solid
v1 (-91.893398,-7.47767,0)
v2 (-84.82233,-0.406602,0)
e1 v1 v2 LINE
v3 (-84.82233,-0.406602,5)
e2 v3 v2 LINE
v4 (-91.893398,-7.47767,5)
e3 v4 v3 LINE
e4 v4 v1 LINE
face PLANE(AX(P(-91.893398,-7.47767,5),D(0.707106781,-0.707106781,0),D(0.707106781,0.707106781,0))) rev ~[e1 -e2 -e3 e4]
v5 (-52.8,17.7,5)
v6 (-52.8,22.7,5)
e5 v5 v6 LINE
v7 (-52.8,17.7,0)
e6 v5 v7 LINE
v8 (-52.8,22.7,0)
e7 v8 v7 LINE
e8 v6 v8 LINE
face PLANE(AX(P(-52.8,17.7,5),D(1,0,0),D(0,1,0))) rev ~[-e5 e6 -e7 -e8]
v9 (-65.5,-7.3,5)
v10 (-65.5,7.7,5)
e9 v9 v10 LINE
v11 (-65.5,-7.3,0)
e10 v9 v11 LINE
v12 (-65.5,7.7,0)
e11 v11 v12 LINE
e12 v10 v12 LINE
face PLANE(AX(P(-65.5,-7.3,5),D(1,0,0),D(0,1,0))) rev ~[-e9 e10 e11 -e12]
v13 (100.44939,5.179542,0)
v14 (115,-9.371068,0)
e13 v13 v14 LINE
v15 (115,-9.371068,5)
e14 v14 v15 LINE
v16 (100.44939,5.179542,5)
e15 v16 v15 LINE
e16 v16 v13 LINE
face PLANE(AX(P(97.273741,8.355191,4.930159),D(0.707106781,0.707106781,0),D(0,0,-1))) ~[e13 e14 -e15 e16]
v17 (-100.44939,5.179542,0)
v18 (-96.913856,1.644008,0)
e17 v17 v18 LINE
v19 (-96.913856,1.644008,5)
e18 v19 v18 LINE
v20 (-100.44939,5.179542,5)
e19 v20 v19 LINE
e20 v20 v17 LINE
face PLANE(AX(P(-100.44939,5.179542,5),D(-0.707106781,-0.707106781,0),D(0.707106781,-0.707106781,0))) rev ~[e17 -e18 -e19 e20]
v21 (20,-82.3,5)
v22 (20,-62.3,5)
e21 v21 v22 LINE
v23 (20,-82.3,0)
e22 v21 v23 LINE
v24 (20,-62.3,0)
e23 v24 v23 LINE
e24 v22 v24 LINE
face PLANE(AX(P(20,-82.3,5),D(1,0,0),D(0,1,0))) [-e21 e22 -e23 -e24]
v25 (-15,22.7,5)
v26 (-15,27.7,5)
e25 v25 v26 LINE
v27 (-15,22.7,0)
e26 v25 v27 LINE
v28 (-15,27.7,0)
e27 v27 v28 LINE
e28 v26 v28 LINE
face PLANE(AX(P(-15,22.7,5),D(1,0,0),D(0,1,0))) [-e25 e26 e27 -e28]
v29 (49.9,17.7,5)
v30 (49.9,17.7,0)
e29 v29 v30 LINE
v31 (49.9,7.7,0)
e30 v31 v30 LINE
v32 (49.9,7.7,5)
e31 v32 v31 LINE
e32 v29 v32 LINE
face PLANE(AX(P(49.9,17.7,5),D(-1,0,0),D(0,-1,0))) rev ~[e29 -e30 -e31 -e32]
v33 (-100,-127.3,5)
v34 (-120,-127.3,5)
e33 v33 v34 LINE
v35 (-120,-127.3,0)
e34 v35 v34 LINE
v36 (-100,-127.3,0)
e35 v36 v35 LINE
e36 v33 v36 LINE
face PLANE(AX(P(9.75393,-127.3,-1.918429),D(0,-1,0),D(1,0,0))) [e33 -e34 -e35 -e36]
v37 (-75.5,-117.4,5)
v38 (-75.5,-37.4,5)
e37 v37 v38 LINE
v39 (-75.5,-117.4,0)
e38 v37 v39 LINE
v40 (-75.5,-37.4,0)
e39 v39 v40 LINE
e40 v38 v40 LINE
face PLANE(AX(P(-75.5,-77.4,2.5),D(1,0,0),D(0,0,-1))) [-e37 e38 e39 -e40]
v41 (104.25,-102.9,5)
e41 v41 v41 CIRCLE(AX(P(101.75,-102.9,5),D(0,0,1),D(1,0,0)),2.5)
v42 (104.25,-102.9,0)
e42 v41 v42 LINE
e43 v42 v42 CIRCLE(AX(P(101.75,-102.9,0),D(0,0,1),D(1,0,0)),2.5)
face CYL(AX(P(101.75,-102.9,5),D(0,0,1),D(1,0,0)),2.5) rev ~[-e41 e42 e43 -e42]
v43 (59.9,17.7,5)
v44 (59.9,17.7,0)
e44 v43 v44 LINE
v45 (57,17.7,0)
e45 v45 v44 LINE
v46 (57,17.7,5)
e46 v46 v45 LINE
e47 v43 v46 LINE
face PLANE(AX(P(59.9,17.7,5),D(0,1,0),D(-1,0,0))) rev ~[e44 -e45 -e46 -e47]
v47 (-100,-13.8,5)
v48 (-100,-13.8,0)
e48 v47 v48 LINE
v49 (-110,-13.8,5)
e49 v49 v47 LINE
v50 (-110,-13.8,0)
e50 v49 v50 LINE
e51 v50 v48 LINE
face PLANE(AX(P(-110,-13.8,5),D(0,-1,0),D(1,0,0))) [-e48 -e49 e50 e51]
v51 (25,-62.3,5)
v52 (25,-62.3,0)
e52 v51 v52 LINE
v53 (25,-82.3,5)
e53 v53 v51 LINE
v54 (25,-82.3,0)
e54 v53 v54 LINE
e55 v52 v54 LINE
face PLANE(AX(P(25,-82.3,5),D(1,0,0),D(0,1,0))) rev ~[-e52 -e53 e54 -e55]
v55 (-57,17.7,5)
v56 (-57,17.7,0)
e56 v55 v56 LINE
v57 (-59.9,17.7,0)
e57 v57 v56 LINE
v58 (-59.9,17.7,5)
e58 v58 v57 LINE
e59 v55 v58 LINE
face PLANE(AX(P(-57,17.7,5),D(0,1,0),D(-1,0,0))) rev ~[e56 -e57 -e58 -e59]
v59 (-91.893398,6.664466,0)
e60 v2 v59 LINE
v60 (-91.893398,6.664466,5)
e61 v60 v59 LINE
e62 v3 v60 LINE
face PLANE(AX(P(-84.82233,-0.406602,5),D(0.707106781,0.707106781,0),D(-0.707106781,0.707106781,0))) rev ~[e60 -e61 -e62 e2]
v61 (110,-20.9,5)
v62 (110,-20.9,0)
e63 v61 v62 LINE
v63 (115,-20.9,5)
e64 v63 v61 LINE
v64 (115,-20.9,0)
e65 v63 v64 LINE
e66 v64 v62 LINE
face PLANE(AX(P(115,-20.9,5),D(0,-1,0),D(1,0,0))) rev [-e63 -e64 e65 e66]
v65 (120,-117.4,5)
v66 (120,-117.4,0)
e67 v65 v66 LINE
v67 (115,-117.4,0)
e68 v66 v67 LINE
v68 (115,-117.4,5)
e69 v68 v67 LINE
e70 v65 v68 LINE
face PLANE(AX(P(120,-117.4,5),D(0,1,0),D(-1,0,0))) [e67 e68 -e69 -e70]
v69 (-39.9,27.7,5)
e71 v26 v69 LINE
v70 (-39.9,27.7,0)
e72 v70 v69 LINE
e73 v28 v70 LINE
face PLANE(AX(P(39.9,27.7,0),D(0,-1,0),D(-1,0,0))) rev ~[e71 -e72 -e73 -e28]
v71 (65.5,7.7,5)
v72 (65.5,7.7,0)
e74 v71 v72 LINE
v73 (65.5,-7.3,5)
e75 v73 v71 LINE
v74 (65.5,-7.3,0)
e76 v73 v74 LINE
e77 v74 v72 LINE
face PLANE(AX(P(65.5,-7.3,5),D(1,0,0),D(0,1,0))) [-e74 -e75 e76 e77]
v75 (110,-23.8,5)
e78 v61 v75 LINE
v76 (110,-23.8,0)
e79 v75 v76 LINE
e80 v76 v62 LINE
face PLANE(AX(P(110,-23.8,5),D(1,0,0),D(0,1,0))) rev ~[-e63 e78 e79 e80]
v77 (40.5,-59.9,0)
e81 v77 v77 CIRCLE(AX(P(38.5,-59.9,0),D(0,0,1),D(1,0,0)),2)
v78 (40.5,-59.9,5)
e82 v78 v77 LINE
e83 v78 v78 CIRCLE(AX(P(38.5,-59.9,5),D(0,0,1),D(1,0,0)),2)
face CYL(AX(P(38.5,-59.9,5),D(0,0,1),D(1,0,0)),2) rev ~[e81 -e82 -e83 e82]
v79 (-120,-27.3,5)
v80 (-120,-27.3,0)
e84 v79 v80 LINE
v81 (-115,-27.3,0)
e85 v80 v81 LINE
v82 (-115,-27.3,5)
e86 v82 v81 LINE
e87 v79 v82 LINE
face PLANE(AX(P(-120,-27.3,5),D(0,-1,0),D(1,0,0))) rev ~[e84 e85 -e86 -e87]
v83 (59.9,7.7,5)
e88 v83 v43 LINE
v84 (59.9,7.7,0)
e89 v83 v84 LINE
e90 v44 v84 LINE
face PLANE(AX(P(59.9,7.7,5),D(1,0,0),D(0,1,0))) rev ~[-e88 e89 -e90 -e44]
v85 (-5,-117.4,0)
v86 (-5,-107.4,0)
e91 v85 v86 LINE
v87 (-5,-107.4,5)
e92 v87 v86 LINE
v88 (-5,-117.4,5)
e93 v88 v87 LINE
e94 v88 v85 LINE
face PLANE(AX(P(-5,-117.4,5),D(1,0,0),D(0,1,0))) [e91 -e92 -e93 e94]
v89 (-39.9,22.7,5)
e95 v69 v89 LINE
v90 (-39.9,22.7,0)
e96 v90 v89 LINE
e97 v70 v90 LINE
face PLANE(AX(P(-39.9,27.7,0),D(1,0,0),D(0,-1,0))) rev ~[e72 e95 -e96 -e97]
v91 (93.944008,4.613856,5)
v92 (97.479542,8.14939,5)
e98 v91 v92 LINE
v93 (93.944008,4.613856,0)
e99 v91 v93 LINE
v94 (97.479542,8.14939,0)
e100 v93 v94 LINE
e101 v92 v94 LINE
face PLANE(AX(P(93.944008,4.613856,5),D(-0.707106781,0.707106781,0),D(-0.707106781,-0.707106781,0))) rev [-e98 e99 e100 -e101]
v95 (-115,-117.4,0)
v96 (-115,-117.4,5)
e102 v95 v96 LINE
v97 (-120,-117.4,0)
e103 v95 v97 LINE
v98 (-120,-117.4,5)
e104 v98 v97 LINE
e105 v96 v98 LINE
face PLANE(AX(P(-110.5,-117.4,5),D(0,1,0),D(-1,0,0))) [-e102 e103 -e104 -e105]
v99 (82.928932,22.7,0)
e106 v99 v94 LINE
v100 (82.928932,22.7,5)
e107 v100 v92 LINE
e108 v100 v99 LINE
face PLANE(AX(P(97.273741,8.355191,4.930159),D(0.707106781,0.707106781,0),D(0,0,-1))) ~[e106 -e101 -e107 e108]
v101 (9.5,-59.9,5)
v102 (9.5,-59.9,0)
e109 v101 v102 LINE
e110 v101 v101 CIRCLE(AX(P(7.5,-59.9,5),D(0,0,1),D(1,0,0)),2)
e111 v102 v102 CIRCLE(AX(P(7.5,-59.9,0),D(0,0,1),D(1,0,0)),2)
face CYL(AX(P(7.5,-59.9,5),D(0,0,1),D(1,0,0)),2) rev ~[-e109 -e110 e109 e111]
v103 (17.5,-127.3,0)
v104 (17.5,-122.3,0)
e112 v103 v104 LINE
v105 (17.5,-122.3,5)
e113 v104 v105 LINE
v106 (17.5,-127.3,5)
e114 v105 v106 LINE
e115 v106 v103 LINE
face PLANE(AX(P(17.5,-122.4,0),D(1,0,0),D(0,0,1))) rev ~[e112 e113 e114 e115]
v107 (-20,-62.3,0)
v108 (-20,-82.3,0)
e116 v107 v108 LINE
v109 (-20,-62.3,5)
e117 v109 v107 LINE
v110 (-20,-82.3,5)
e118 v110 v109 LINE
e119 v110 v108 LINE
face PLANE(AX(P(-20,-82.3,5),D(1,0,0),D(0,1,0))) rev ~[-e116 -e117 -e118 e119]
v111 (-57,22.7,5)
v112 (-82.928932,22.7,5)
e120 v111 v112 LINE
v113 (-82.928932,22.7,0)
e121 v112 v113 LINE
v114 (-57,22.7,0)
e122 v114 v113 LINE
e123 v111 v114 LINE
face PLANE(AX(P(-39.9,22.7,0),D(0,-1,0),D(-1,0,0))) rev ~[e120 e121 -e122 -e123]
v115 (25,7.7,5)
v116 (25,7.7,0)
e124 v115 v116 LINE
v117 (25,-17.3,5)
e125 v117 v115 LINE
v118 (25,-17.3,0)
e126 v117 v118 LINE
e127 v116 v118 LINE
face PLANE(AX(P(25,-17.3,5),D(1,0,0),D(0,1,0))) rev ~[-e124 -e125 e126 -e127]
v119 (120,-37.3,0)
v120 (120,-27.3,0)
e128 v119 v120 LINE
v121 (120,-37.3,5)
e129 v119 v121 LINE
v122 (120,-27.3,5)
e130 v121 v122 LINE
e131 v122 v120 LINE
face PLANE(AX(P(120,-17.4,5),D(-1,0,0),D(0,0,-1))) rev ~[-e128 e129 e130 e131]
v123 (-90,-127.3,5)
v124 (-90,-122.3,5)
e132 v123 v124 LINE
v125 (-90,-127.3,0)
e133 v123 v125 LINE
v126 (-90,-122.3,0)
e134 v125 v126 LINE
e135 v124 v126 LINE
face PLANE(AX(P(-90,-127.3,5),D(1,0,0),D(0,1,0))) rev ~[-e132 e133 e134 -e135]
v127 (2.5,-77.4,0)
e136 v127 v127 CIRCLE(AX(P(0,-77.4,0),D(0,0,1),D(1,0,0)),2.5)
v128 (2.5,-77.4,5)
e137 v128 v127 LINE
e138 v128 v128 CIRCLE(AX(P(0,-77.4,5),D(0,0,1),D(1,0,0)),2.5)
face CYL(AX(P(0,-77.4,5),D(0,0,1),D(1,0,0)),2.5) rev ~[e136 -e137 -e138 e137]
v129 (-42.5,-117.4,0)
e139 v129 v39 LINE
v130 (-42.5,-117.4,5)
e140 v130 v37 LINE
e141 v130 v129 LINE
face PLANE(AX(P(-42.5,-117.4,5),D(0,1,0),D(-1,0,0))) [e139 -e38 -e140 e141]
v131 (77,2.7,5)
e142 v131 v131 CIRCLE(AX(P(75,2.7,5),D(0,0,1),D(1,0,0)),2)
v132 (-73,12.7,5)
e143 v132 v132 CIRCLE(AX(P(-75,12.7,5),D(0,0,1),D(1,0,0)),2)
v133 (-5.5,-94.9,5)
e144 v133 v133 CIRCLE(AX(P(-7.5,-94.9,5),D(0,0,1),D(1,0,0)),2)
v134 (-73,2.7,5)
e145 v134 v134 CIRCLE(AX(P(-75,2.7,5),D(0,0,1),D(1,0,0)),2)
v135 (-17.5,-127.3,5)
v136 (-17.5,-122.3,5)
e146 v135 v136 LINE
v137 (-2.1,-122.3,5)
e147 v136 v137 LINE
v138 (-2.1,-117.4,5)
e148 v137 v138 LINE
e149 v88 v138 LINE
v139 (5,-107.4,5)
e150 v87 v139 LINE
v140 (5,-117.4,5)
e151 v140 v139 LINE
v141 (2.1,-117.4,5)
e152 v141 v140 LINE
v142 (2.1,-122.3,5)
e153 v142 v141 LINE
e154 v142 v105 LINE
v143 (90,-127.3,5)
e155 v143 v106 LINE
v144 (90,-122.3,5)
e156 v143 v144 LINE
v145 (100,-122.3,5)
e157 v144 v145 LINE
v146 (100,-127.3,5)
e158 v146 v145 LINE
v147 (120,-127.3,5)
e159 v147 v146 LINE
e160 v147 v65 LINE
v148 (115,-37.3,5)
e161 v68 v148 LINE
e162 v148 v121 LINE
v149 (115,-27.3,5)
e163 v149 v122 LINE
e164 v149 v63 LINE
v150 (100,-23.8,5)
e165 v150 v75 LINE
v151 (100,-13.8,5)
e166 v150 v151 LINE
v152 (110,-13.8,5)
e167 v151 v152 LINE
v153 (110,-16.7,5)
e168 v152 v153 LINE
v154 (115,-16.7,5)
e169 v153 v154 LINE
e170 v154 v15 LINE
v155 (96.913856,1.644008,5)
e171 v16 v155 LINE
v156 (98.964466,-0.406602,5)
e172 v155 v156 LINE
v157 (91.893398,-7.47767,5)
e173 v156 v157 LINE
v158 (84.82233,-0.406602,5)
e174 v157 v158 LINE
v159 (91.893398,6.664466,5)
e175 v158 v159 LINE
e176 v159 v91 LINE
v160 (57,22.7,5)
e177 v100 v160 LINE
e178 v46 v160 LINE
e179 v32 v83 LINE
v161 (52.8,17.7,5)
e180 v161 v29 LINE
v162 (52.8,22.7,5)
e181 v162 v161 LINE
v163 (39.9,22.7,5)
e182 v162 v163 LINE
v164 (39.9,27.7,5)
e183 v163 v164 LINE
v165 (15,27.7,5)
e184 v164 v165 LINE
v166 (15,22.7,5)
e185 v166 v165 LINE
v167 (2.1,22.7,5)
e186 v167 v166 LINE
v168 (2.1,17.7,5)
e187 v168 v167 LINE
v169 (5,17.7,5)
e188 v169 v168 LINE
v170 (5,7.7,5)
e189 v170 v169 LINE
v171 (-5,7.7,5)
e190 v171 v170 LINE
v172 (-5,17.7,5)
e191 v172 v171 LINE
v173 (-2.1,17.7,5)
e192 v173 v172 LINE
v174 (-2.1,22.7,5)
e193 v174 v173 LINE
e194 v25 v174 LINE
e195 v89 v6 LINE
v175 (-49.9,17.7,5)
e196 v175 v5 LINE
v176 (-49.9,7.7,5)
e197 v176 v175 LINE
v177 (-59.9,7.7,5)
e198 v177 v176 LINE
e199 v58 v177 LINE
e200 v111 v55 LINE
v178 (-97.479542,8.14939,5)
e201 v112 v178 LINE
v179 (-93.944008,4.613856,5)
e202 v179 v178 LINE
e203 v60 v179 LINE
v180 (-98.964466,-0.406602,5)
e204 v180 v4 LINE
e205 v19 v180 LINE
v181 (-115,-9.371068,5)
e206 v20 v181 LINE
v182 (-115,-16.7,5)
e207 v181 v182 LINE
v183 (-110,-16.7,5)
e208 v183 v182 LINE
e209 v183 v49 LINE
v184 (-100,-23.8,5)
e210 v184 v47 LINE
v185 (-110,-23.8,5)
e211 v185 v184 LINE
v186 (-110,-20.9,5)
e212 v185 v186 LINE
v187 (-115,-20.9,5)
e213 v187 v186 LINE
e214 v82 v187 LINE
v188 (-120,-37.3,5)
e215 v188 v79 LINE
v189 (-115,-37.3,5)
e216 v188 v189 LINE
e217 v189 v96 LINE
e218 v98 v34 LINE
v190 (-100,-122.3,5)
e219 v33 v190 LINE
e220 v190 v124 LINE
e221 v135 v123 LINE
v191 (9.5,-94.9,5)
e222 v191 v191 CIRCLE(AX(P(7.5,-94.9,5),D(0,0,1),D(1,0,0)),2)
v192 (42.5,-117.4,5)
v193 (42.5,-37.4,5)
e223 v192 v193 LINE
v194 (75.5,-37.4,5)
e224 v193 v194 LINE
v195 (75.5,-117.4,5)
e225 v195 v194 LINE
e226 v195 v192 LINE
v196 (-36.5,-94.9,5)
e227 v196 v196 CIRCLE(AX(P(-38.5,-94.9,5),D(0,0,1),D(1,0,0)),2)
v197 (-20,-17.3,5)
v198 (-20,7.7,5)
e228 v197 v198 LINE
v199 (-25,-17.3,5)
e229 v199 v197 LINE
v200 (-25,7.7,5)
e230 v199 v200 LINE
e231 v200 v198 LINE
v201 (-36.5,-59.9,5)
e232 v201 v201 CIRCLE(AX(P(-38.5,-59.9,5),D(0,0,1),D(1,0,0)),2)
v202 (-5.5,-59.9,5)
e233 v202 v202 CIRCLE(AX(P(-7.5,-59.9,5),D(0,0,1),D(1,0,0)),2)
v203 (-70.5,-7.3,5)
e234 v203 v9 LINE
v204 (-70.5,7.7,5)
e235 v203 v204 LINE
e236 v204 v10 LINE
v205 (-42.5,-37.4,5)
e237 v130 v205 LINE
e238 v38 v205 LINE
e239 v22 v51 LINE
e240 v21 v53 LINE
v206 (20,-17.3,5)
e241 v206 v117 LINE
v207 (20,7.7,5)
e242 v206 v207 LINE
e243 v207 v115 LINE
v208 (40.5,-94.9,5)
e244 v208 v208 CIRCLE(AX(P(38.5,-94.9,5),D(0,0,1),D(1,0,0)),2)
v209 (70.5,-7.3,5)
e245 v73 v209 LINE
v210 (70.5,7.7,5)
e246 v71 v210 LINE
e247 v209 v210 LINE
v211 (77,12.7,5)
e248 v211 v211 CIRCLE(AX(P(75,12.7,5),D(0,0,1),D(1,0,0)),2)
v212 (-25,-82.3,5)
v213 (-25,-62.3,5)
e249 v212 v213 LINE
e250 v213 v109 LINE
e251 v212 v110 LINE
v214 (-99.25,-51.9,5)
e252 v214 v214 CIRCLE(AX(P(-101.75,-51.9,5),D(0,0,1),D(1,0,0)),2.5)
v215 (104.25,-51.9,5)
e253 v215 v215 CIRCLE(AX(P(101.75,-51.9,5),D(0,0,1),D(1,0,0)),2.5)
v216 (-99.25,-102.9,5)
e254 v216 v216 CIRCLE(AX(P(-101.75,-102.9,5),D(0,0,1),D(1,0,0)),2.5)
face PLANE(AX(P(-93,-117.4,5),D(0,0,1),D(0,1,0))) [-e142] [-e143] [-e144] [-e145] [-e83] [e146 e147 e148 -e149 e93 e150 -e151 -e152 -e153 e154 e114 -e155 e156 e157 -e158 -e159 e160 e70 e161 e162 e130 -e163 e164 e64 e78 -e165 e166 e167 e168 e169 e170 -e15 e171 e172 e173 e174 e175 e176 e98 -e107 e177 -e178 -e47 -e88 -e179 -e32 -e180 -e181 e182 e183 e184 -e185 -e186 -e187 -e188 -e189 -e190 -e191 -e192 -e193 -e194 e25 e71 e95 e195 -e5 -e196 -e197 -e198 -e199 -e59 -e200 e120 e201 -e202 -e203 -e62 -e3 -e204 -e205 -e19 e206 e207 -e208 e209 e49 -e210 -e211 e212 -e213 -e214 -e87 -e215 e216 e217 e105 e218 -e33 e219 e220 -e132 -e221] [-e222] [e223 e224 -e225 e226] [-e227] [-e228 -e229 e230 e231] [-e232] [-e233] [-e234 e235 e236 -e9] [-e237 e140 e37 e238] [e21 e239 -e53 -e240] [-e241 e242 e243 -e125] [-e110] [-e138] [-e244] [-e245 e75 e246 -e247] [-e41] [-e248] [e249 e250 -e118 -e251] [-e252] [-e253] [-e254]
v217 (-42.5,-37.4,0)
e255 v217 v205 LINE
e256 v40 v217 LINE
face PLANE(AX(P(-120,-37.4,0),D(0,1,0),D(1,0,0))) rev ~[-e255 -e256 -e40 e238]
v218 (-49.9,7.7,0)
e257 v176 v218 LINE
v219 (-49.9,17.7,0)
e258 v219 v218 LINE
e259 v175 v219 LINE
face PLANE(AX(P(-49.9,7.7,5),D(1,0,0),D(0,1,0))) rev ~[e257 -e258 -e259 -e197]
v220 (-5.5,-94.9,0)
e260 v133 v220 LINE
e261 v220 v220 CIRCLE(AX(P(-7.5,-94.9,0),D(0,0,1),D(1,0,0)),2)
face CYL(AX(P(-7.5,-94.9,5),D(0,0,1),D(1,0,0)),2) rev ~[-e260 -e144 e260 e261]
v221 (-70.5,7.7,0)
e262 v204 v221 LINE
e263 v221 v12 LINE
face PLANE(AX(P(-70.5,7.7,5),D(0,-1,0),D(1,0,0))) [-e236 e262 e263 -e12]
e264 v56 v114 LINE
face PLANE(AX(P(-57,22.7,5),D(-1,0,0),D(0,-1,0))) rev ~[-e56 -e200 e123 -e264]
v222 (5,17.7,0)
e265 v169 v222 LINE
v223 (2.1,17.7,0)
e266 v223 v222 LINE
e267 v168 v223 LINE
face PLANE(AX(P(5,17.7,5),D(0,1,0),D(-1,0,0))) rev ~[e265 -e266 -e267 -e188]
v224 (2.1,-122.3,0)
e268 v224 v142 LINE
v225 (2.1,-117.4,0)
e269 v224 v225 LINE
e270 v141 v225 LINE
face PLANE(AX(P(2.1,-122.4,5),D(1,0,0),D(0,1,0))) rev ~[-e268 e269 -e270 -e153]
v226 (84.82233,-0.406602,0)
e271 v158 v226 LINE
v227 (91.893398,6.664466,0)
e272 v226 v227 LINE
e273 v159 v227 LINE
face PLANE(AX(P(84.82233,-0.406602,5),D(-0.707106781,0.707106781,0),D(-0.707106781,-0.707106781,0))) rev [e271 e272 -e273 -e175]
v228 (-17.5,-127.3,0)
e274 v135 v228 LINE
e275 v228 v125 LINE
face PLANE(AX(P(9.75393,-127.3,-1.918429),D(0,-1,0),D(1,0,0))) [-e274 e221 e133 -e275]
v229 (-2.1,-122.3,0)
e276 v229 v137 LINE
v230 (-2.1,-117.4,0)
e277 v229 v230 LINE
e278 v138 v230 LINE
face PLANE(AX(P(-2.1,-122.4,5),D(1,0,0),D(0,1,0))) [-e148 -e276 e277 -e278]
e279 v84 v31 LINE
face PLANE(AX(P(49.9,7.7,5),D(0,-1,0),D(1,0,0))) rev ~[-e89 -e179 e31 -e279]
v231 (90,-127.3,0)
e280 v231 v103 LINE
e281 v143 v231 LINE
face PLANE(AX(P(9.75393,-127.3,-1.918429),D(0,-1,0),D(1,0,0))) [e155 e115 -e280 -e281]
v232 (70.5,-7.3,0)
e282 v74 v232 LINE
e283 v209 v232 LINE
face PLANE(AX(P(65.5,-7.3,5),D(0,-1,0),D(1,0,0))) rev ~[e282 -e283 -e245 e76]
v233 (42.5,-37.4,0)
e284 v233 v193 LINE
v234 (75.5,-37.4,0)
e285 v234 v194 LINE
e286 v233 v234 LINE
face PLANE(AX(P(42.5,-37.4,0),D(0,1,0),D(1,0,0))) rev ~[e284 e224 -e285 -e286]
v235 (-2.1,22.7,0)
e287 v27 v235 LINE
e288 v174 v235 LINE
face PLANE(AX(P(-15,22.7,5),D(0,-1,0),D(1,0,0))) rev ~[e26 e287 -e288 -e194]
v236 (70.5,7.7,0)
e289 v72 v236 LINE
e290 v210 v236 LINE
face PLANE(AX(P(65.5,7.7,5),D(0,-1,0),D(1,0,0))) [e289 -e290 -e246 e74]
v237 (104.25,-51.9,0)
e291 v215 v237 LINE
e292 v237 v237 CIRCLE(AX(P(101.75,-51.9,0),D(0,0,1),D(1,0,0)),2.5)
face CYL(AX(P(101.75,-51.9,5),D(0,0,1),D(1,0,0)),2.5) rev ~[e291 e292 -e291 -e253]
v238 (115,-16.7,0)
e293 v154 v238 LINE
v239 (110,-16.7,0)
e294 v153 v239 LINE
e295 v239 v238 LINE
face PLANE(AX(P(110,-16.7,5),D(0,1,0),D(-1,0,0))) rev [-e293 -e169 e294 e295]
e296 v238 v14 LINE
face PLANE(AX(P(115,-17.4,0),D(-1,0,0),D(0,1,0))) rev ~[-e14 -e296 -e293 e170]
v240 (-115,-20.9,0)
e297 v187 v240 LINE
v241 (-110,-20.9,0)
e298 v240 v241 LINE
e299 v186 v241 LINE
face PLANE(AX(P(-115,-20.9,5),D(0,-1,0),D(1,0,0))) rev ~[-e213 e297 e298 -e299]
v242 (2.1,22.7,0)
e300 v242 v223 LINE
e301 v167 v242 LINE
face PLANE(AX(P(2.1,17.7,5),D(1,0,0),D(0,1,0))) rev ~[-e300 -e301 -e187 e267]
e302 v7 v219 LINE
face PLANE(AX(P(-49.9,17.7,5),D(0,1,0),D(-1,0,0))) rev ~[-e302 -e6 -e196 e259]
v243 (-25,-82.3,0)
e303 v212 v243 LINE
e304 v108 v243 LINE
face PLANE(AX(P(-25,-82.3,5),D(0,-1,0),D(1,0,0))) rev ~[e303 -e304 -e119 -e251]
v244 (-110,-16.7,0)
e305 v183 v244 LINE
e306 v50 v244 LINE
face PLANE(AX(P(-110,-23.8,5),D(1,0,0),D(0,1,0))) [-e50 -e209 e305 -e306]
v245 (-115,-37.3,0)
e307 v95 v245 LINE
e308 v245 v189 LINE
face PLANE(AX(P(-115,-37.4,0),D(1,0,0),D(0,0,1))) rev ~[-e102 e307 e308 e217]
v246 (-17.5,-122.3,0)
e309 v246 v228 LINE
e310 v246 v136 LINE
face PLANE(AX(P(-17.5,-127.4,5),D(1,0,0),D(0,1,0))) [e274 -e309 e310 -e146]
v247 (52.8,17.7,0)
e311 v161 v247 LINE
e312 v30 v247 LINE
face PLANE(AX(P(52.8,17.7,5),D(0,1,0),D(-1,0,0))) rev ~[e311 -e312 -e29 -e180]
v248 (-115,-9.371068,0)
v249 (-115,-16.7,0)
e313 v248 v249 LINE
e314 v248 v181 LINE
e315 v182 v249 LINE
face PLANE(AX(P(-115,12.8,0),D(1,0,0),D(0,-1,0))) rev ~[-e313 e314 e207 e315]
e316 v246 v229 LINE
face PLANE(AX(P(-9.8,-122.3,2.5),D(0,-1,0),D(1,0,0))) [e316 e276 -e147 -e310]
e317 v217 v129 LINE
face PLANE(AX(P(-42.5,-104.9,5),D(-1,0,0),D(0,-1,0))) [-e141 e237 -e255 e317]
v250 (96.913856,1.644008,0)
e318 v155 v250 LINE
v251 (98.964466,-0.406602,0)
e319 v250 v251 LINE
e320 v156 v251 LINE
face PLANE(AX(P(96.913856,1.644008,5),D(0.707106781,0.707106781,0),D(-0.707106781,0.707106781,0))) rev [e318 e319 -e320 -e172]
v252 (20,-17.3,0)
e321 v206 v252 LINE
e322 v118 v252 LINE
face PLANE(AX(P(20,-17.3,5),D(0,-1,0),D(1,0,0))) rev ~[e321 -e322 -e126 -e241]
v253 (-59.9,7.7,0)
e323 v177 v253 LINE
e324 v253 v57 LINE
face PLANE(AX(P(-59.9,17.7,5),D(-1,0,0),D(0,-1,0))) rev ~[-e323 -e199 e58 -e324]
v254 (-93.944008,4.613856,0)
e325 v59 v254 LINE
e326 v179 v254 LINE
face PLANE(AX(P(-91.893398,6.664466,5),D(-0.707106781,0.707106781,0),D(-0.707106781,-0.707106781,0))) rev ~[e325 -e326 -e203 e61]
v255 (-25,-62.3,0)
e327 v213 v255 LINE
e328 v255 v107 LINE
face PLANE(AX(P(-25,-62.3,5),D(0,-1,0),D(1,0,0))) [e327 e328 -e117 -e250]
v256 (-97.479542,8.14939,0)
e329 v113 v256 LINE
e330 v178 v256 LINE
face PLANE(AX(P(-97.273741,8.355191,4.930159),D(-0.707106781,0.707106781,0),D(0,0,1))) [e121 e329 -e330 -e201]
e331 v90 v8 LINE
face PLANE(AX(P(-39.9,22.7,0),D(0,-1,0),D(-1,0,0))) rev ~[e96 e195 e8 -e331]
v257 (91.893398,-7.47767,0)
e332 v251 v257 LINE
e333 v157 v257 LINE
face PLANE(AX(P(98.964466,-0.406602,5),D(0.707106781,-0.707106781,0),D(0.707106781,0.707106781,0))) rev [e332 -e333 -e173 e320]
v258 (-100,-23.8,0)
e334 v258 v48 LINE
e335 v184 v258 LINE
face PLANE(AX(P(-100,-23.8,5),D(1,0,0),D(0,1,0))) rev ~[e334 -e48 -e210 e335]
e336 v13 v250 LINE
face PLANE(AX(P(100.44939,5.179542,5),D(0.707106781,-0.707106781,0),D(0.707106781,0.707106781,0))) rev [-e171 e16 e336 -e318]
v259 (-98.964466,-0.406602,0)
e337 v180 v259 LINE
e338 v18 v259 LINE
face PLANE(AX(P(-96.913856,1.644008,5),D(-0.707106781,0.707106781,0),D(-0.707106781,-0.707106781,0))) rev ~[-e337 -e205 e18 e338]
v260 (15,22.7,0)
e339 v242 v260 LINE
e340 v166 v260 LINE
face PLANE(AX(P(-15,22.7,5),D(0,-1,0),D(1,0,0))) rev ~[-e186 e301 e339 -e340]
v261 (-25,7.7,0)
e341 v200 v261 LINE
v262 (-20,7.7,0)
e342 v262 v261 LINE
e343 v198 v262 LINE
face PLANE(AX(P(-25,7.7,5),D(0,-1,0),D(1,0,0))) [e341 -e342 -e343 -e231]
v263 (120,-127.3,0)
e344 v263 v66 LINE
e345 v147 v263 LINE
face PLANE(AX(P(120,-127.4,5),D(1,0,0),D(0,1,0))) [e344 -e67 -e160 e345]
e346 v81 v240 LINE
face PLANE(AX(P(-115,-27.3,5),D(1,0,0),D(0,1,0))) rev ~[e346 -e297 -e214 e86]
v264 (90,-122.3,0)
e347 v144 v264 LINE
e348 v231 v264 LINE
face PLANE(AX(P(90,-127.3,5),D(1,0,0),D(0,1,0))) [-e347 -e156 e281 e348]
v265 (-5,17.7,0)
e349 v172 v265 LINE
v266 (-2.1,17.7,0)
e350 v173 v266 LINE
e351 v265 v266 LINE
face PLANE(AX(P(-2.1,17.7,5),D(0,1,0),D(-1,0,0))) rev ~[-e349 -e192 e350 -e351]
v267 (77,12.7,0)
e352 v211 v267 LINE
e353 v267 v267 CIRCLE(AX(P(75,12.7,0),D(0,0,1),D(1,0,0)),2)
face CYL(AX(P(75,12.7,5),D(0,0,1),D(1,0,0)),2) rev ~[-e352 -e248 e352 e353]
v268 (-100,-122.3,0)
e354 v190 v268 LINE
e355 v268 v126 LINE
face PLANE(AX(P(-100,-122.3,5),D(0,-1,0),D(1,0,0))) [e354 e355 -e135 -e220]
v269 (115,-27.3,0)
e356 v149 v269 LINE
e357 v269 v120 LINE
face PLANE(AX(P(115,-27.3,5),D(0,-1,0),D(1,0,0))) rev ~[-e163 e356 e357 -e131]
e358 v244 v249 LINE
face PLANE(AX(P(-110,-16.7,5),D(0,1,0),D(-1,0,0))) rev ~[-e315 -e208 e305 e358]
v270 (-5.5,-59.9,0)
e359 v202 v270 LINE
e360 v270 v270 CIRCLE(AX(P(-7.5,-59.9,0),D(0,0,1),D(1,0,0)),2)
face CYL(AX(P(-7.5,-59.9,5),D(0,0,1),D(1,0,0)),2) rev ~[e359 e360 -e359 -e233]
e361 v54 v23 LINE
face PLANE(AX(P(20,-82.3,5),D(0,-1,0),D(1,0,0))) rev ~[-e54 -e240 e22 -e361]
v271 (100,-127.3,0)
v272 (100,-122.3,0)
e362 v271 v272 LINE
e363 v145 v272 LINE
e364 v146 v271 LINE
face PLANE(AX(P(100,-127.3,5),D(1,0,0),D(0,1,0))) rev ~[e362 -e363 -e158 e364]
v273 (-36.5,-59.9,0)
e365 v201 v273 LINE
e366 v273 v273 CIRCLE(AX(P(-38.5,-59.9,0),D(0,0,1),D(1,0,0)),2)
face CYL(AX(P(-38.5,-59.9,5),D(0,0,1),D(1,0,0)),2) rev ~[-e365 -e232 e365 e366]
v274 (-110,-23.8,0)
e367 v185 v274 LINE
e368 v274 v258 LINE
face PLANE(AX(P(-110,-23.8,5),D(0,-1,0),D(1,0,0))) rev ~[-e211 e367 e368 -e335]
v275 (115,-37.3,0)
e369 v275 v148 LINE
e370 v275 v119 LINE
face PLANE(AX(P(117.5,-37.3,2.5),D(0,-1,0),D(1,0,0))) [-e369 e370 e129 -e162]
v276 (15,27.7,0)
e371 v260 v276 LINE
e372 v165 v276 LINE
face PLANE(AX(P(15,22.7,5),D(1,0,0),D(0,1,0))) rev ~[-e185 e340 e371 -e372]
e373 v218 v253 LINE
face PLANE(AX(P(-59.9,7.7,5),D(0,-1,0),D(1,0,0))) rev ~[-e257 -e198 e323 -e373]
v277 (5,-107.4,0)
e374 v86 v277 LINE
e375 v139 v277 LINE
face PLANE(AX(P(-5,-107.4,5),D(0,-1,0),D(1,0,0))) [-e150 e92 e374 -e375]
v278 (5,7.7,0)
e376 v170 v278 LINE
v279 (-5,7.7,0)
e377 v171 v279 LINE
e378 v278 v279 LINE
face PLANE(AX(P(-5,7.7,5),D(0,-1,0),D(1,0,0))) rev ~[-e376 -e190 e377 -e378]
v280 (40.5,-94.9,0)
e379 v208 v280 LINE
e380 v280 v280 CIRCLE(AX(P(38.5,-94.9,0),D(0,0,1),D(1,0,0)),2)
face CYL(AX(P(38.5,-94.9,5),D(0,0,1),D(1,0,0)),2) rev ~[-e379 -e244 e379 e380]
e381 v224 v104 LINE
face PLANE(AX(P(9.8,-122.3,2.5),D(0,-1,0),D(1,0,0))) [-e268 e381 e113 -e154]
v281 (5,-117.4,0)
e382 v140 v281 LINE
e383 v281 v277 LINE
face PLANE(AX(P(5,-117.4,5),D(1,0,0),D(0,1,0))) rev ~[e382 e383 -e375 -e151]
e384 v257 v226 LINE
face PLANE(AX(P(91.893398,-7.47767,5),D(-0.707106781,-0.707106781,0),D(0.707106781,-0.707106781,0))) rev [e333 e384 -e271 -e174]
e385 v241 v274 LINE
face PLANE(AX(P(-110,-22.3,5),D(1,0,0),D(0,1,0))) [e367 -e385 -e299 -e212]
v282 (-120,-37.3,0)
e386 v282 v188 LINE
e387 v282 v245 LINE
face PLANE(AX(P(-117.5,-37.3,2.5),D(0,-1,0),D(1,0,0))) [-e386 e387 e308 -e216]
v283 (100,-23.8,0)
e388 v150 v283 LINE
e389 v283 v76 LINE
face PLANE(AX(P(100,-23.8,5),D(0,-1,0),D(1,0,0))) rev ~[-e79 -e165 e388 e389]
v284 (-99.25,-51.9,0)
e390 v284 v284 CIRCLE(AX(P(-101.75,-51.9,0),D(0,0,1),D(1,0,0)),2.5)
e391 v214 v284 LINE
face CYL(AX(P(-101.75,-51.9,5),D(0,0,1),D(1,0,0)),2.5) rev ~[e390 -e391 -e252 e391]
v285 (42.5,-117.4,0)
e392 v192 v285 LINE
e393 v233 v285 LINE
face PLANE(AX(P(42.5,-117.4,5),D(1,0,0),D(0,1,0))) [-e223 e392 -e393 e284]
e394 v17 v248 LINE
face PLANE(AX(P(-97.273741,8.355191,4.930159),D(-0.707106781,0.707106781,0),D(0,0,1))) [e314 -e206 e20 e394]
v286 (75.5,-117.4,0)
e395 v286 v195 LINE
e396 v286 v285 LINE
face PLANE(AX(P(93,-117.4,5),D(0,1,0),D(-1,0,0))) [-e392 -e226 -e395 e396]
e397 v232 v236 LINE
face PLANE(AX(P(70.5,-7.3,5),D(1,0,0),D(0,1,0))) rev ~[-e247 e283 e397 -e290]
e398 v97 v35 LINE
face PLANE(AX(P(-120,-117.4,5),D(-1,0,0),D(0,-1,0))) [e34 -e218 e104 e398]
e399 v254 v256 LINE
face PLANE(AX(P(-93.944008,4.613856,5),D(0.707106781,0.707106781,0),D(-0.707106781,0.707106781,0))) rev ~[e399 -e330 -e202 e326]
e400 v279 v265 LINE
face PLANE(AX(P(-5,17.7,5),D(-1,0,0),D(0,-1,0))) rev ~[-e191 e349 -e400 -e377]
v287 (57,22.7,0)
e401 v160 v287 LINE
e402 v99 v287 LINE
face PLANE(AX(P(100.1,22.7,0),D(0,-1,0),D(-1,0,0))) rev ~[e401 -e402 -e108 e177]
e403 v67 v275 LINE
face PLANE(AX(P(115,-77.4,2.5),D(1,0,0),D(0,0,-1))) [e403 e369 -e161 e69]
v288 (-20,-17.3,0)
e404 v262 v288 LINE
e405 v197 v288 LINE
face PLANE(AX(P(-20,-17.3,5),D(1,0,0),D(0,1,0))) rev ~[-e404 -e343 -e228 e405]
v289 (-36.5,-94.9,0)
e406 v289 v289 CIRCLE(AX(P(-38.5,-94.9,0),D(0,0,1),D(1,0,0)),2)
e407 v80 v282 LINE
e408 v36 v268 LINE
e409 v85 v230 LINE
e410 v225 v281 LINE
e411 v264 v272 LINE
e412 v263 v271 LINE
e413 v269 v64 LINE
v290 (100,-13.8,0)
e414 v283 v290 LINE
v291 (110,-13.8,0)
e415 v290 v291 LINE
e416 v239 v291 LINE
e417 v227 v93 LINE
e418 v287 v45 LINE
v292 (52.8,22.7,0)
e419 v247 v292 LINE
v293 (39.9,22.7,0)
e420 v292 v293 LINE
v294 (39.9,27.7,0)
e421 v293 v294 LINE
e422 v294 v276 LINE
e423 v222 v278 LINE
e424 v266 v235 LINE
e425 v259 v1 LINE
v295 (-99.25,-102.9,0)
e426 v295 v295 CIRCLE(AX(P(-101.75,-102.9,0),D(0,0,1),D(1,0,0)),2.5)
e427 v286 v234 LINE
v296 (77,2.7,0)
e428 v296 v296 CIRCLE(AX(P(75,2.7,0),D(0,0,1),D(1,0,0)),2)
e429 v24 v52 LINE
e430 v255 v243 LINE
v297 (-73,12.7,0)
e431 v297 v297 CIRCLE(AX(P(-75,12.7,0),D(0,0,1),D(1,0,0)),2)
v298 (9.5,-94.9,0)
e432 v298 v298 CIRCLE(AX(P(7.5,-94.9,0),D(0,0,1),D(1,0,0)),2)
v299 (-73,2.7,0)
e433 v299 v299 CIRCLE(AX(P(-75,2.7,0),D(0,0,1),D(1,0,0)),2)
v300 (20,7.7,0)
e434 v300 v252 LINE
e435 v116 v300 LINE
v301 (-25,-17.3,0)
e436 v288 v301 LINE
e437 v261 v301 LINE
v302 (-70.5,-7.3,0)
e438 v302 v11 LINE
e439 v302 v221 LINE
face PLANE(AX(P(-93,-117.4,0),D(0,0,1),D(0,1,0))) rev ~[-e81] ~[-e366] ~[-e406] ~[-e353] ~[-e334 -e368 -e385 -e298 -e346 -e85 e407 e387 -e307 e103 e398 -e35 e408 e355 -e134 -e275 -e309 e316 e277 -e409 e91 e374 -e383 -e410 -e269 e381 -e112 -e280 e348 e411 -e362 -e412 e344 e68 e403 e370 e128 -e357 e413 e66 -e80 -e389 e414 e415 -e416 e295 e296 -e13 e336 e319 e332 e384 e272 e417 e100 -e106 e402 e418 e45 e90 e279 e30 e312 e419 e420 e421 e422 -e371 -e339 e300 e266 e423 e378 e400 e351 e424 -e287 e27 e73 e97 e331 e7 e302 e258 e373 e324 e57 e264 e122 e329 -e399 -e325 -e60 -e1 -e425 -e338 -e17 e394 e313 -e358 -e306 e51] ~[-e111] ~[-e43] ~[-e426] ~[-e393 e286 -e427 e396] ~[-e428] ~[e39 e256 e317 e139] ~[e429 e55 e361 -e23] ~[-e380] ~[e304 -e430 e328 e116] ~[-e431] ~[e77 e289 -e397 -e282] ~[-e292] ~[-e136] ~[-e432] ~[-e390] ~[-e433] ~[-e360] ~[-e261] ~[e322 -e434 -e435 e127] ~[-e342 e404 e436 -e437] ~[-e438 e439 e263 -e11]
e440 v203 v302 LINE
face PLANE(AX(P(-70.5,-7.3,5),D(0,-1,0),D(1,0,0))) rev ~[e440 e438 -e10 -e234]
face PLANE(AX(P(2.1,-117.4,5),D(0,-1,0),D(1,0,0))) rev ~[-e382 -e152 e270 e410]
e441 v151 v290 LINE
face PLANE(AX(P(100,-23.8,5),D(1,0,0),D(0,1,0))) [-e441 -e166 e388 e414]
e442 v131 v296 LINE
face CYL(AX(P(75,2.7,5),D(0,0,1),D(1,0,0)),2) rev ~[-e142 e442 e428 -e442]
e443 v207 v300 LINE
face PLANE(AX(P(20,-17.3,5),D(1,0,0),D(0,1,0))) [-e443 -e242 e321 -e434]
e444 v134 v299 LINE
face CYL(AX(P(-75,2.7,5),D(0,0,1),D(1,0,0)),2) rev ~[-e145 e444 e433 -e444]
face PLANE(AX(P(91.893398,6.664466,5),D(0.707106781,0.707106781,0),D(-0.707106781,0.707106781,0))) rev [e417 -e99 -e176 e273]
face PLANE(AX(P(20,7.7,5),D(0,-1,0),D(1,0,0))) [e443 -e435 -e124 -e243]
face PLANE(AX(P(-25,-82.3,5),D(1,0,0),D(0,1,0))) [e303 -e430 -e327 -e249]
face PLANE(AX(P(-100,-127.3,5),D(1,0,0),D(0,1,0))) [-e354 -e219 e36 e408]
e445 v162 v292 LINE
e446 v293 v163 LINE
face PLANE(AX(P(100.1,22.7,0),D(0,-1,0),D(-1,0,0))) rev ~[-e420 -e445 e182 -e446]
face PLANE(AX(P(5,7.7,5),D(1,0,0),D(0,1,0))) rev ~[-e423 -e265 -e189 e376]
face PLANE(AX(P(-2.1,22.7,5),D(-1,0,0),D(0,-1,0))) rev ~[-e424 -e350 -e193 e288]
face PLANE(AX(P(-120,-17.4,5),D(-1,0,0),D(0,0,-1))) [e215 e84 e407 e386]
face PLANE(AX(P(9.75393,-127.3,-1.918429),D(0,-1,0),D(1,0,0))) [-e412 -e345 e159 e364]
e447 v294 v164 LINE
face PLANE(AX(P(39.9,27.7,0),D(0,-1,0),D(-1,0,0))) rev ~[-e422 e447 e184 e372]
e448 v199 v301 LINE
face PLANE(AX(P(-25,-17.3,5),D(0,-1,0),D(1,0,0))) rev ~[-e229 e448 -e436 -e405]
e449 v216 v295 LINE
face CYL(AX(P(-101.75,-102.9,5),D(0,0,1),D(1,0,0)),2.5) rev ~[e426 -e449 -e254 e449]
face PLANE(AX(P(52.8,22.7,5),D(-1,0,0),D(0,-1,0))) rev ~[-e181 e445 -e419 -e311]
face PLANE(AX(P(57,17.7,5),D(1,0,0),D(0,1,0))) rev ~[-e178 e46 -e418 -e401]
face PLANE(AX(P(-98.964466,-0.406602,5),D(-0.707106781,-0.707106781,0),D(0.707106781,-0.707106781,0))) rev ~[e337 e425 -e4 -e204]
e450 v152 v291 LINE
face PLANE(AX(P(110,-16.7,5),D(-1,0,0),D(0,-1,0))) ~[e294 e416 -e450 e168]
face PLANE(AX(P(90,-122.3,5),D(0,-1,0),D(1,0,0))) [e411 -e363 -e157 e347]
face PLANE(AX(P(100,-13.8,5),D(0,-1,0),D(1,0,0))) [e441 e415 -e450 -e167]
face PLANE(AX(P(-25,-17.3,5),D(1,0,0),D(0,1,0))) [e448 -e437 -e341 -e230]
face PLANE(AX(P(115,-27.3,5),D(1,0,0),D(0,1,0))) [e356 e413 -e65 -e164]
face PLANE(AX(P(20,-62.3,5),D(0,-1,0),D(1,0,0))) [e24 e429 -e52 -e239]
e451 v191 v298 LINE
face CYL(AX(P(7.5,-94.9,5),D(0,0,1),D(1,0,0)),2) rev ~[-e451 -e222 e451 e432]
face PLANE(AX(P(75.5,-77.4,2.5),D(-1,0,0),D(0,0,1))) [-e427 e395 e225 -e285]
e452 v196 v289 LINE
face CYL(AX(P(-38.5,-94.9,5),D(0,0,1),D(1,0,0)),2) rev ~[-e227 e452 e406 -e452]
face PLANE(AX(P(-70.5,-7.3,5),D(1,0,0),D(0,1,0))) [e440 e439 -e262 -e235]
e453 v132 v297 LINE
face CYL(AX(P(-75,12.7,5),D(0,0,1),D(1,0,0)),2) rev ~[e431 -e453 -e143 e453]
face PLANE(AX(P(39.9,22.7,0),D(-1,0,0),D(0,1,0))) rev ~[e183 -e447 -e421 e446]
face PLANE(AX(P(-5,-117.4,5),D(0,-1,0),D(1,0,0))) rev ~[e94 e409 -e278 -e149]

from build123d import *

# Parameters (mm, degrees)
BOSS_EXTRUDE1_DEPTH  = 5
BOSS_EXTRUDE2_DEPTH  = 5
SKETCH3_R            = 2
SKETCH3_R_2          = 2.5
CUT_EXTRUDE4_DEPTH   = 10
SKETCH6_R            = 2.5
CUT_EXTRUDE5_DEPTH   = 10
CUT_EXTRUDE6_DEPTH   = 10
SKETCH9_W            = 35
SKETCH9_H            = 5
SKETCH9_W_2          = 4.2
SKETCH9_W_3          = 10
SKETCH9_H_2          = 10
CUT_EXTRUDE7_DEPTH   = 10
SKETCH10_W           = 30.598870639
SKETCH10_H           = 58.148019952
CUT_EXTRUDE8_DEPTH   = 5
SKETCH11_W           = 30
SKETCH11_H           = 5
CUT_EXTRUDE9_DEPTH   = 5
SKETCH12_W           = 5
SKETCH12_H           = 80
BOSS_EXTRUDE3_DEPTH  = 4.5
SKETCH13_W           = 5
SKETCH13_H           = 80
BOSS_EXTRUDE4_DEPTH  = 4.5
SKETCH14_W           = 5
SKETCH14_H           = 5
BOSS_EXTRUDE5_DEPTH  = 0.1
SKETCH15_W           = 5
SKETCH15_H           = 5
CUT_EXTRUDE10_DEPTH  = 0.1
SKETCH16_W           = 5
SKETCH16_H           = 5
BOSS_EXTRUDE6_DEPTH  = 0.1
SKETCH17_W           = 5
SKETCH17_H           = 5
CUT_EXTRUDE11_DEPTH  = 0.1
SKETCH18_W           = 315.275634843
SKETCH18_H           = 155.272188677
CUT_EXTRUDE12_DEPTH  = 0.1
SKETCH19_W           = 15.4
SKETCH19_H           = 5
CUT_EXTRUDE13_DEPTH  = 0.1
CUT_EXTRUDE14_DEPTH  = 5
SKETCH21_W           = 5
SKETCH21_H           = 4.2
SKETCH21_W_2         = 3.2
SKETCH21_W_3         = 1.8
SKETCH21_H_2         = 1.4
CUT_EXTRUDE15_DEPTH  = 5
SKETCH22_W           = 5
SKETCH22_H           = 25
CUT_EXTRUDE16_DEPTH  = 10
SKETCH23_R           = 2
CUT_EXTRUDE17_DEPTH  = 10
CUT_EXTRUDE18_DEPTH  = 10
SKETCH25_W           = 5
SKETCH25_H           = 5
BOSS_EXTRUDE7_DEPTH  = 5
SKETCH28_W           = 10
SKETCH28_H           = 5
CUT_EXTRUDE19_DEPTH  = 5
SKETCH30_W           = 5
SKETCH30_H           = 15
CUT_EXTRUDE21_DEPTH  = 5
SKETCH31_W           = 10
SKETCH31_H           = 10
CUT_EXTRUDE22_DEPTH  = 10
SKETCH32_W           = 5
SKETCH32_H           = 10
CUT_EXTRUDE23_DEPTH  = 5
SKETCH33_W           = 5
SKETCH33_H           = 10
CUT_EXTRUDE24_DEPTH  = 5
SKETCH34_W           = 5
SKETCH34_H           = 80
BOSS_EXTRUDE10_DEPTH = 17.5
SKETCH35_W           = 5
SKETCH35_H           = 80
BOSS_EXTRUDE11_DEPTH = 17.5


with BuildPart() as part:
    # Sketch1 → Boss-Extrude1 (new body)
    with BuildSketch(Plane.XY):
        Polygon((-42.5, -104.9), (42.5, -104.9), (42.5, -49.9), (42.5, -37.4), (120, -37.4), (120, -17.4), (115, -17.4), (115, 12.8), (120, 12.8), (120, 27.7), (100.1, 27.7), (100.1, 22.7), (39.9, 22.7), (39.9, 27.7), (-39.9, 27.7), (-39.9, 22.7), (-100.1, 22.7), (-100.1, 27.7), (-120, 27.7), (-120, 12.8), (-115, 12.8), (-115, -17.4), (-120, -17.4), (-120, -37.4), (-42.5, -37.4), (-42.5, -49.9), align=None)
    extrude(amount=BOSS_EXTRUDE1_DEPTH)

    # Sketch2 → Boss-Extrude2 (add)
    with BuildSketch(Plane.XY.offset(5)):
        Polygon((-2.1, -104.9), (-42.5, -104.9), (-42.5, -117.4), (-93, -117.4), (-93, -37.4), (-110.5, -37.4), (-110.5, -117.4), (-120, -117.4), (-120, -127.4), (120, -127.4), (120, -117.4), (110.5, -117.4), (110.5, -37.4), (93, -37.4), (93, -117.4), (42.5, -117.4), (42.5, -104.9), (2.1, -104.9), align=None)
    extrude(amount=-BOSS_EXTRUDE2_DEPTH)

    # Sketch3 → Cut-Extrude4 (cut)
    with BuildSketch(Plane.XY.offset(5)):
        with Locations((-38.5, -59.9)):
            Circle(SKETCH3_R)
        with Locations((-38.5, -94.9)):
            Circle(SKETCH3_R)
        with Locations((-7.5, -94.9)):
            Circle(SKETCH3_R)
        with Locations((-7.5, -59.9)):
            Circle(SKETCH3_R)
        with Locations((38.5, -94.9)):
            Circle(SKETCH3_R)
        with Locations((7.5, -94.9)):
            Circle(SKETCH3_R)
        with Locations((7.5, -59.9)):
            Circle(SKETCH3_R)
        with Locations((38.5, -59.9)):
            Circle(SKETCH3_R)
        with Locations((0, -77.4)):
            Circle(SKETCH3_R_2)
    extrude(amount=-CUT_EXTRUDE4_DEPTH, mode=Mode.SUBTRACT)

    # Sketch6 → Cut-Extrude5 (cut)
    with BuildSketch(Plane.XY.offset(5)):
        with Locations((-101.75, -51.9)):
            Circle(SKETCH6_R)
        with Locations((-101.75, -102.9)):
            Circle(SKETCH6_R)
        with Locations((101.75, -102.9)):
            Circle(SKETCH6_R)
        with Locations((101.75, -51.9)):
            Circle(SKETCH6_R)
    extrude(amount=-CUT_EXTRUDE5_DEPTH, mode=Mode.SUBTRACT)

    # Sketch8 → Cut-Extrude6 (cut)
    with BuildSketch(Plane.XY.offset(5)):
        Polygon((-115, 22.7), (-90, 22.7), (-115, -2.3), align=None)
        Polygon((-115, 22.7), (-100.1, 22.7), (-100.1, 27.7), (-120, 27.7), (-120, 12.8), (-115, 12.8), align=None)
        Polygon((100.1, 22.7), (115, 22.7), (115, 12.8), (120, 12.8), (120, 27.7), (100.1, 27.7), align=None)
        Polygon((115, 12.8), (115, 22.7), (100.1, 22.7), (90, 22.7), (115, -2.3), align=None)
    extrude(amount=-CUT_EXTRUDE6_DEPTH, mode=Mode.SUBTRACT)

    # Sketch9 → Cut-Extrude7 (cut)
    with BuildSketch(Plane.XY.offset(5)):
        with Locations((0, -124.9)):
            Rectangle(SKETCH9_W, SKETCH9_H)
        with Locations((0, -119.9)):
            Rectangle(SKETCH9_W_2, SKETCH9_H)
        with Locations((0, -112.4)):
            Rectangle(SKETCH9_W_3, SKETCH9_H_2)
    extrude(amount=-CUT_EXTRUDE7_DEPTH, mode=Mode.SUBTRACT)

    # Sketch10 → Cut-Extrude8 (cut)
    with BuildSketch(Plane(origin=(-56.35, 56.35, 0), x_dir=(0, 0, 1), z_dir=(-0.707106781, 0.707106781, 0))):
        with Locations((4.930158629, -62.874909177)):
            Rectangle(SKETCH10_W, SKETCH10_H)
    cut_extrude8 = extrude(amount=-CUT_EXTRUDE8_DEPTH, mode=Mode.SUBTRACT)

    # Mirror1: Cut-Extrude8 across plane
    add(cut_extrude8.mirror(Plane(origin=(0, 0, 0), x_dir=(0, 0, 1), z_dir=(1, 0, 0))), mode=Mode.SUBTRACT)

    # Sketch11 → Cut-Extrude9 (cut)
    with BuildSketch(Plane.XY.offset(5)):
        with Locations((0, 25.2)):
            Rectangle(SKETCH11_W, SKETCH11_H)
    extrude(amount=-CUT_EXTRUDE9_DEPTH, mode=Mode.SUBTRACT)

    # Sketch12 → Boss-Extrude3 (add)
    with BuildSketch(Plane(origin=(110.5, 0, 0), x_dir=(0, 0, -1), z_dir=(1, 0, 0))):
        with Locations((-2.5, -77.4)):
            Rectangle(SKETCH12_W, SKETCH12_H)
    extrude(amount=BOSS_EXTRUDE3_DEPTH)

    # Sketch13 → Boss-Extrude4 (add)
    with BuildSketch(Plane.ZY.offset(110.5)):
        with Locations((2.5, -77.4)):
            Rectangle(SKETCH13_W, SKETCH13_H)
    extrude(amount=BOSS_EXTRUDE4_DEPTH)

    # Sketch14 → Boss-Extrude5 (add)
    with BuildSketch(Plane(origin=(0, -17.4, 0), x_dir=(1, 0, 0), z_dir=(0, 1, 0))):
        with Locations((117.5, -2.5)):
            Rectangle(SKETCH14_W, SKETCH14_H)
    extrude(amount=BOSS_EXTRUDE5_DEPTH)

    # Sketch15 → Cut-Extrude10 (cut)
    with BuildSketch(Plane.XZ.offset(37.4)):
        with Locations((117.5, 2.5)):
            Rectangle(SKETCH15_W, SKETCH15_H)
    extrude(amount=-CUT_EXTRUDE10_DEPTH, mode=Mode.SUBTRACT)

    # Sketch16 → Boss-Extrude6 (add)
    with BuildSketch(Plane(origin=(0, -17.4, 0), x_dir=(1, 0, 0), z_dir=(0, 1, 0))):
        with Locations((-117.5, -2.5)):
            Rectangle(SKETCH16_W, SKETCH16_H)
    extrude(amount=BOSS_EXTRUDE6_DEPTH)

    # Sketch17 → Cut-Extrude11 (cut)
    with BuildSketch(Plane.XZ.offset(37.4)):
        with Locations((-117.5, 2.5)):
            Rectangle(SKETCH17_W, SKETCH17_H)
    extrude(amount=-CUT_EXTRUDE11_DEPTH, mode=Mode.SUBTRACT)

    # Sketch18 → Cut-Extrude12 (cut)
    with BuildSketch(Plane.XZ.offset(127.4)):
        with Locations((9.753929885, -1.918428582)):
            Rectangle(SKETCH18_W, SKETCH18_H)
    extrude(amount=-CUT_EXTRUDE12_DEPTH, mode=Mode.SUBTRACT)

    # Sketch19 → Cut-Extrude13 (cut)
    with BuildSketch(Plane.XZ.offset(122.4)):
        with Locations((9.8, 2.5)):
            Rectangle(SKETCH19_W, SKETCH19_H)
        with Locations((-9.8, 2.5)):
            Rectangle(SKETCH19_W, SKETCH19_H)
    extrude(amount=-CUT_EXTRUDE13_DEPTH, mode=Mode.SUBTRACT)

    # Sketch20 → Cut-Extrude14 (cut)
    with BuildSketch(Plane.XY.offset(5)):
        Polygon((-97.479541854, 8.149390335), (-100.449390335, 5.179541854), (-96.913856429, 1.644007948), (-93.944007948, 4.613856429), align=None)
        Polygon((-91.893398282, 6.664466094), (-98.964466094, -0.406601718), (-91.893398282, -7.47766953), (-84.82233047, -0.406601718), align=None)
    cut_extrude14 = extrude(amount=-CUT_EXTRUDE14_DEPTH, mode=Mode.SUBTRACT)

    # Mirror2: Cut-Extrude14 across plane
    add(cut_extrude14.mirror(Plane(origin=(0, 0, 0), x_dir=(0, 0, 1), z_dir=(1, 0, 0))), mode=Mode.SUBTRACT)

    # Sketch21 → Cut-Extrude15 (cut)
    with BuildSketch(Plane.XY.offset(5)):
        with Locations((-112.5, -18.8)):
            Rectangle(SKETCH21_W, SKETCH21_H)
        with Locations((-108.4, -18.8)):
            Rectangle(SKETCH21_W_2, SKETCH21_H)
        with Locations((-105.9, -18.8)):
            Rectangle(SKETCH21_W_3, SKETCH21_H)
        with Locations((-108.4, -16)):
            Rectangle(SKETCH21_W_2, SKETCH21_H_2)
        with Locations((-108.4, -21.6)):
            Rectangle(SKETCH21_W_2, SKETCH21_H_2)
    cut_extrude15 = extrude(amount=-CUT_EXTRUDE15_DEPTH, mode=Mode.SUBTRACT)

    # Sketch22 → Cut-Extrude16 (cut)
    with BuildSketch(Plane.XY.offset(5)):
        with Locations((22.5, -69.8)):
            Rectangle(SKETCH22_W, SKETCH22_H)
        with Locations((22.5, -4.8)):
            Rectangle(SKETCH22_W, SKETCH22_H)
        with Locations((-22.5, -4.8)):
            Rectangle(SKETCH22_W, SKETCH22_H)
        with Locations((-22.5, -69.8)):
            Rectangle(SKETCH22_W, SKETCH22_H)
    extrude(amount=-CUT_EXTRUDE16_DEPTH, mode=Mode.SUBTRACT)

    # Sketch23 → Cut-Extrude17 (cut)
    with BuildSketch(Plane.XY.offset(5)):
        with Locations((75, 12.7)):
            Circle(SKETCH23_R)
        with Locations((75, 2.7)):
            Circle(SKETCH23_R)
        with Locations((-75, 2.7)):
            Circle(SKETCH23_R)
        with Locations((-75, 12.7)):
            Circle(SKETCH23_R)
    extrude(amount=-CUT_EXTRUDE17_DEPTH, mode=Mode.SUBTRACT)

    # Mirror3: Cut-Extrude15 across plane
    add(cut_extrude15.mirror(Plane(origin=(0, 0, 0), x_dir=(0, 0, 1), z_dir=(1, 0, 0))), mode=Mode.SUBTRACT)

    # Sketch24 → Cut-Extrude18 (cut)
    with BuildSketch(Plane.XY.offset(5)):
        Polygon((-52.8, 17.7), (-52.8, 22.7), (-57, 22.7), (-57, 17.7), (-59.9, 17.7), (-59.9, 7.7), (-49.9, 7.7), (-49.9, 17.7), align=None)
        Polygon((59.9, 7.7), (59.9, 17.7), (57, 17.7), (57, 22.7), (52.8, 22.7), (52.8, 17.7), (49.9, 17.7), (49.9, 7.7), align=None)
        Polygon((2.1, 17.7), (2.1, 22.7), (-2.1, 22.7), (-2.1, 17.7), (-5, 17.7), (-5, 7.7), (5, 7.7), (5, 17.7), align=None)
    extrude(amount=-CUT_EXTRUDE18_DEPTH, mode=Mode.SUBTRACT)

    # Sketch25 → Boss-Extrude7 (add)
    with BuildSketch(Plane.XY.offset(5)):
        with Locations((-22.5, -59.8)):
            Rectangle(SKETCH25_W, SKETCH25_H)
        with Locations((22.5, -59.8)):
            Rectangle(SKETCH25_W, SKETCH25_H)
    extrude(amount=-BOSS_EXTRUDE7_DEPTH)

    # Sketch28 → Cut-Extrude19 (cut)
    with BuildSketch(Plane.XY.offset(5)):
        with Locations((-95, -124.8)):
            Rectangle(SKETCH28_W, SKETCH28_H)
        with Locations((95, -124.8)):
            Rectangle(SKETCH28_W, SKETCH28_H)
    extrude(amount=-CUT_EXTRUDE19_DEPTH, mode=Mode.SUBTRACT)

    # Sketch30 → Cut-Extrude21 (cut)
    with BuildSketch(Plane.XY.offset(5)):
        with Locations((-68, 0.2)):
            Rectangle(SKETCH30_W, SKETCH30_H)
        with Locations((68, 0.2)):
            Rectangle(SKETCH30_W, SKETCH30_H)
    extrude(amount=-CUT_EXTRUDE21_DEPTH, mode=Mode.SUBTRACT)

    # Sketch31 → Cut-Extrude22 (cut)
    with BuildSketch(Plane.XY.offset(5)):
        with Locations((105, -18.8)):
            Rectangle(SKETCH31_W, SKETCH31_H)
        with Locations((-105, -18.8)):
            Rectangle(SKETCH31_W, SKETCH31_H)
    extrude(amount=-CUT_EXTRUDE22_DEPTH, mode=Mode.SUBTRACT)

    # Sketch32 → Cut-Extrude23 (cut)
    with BuildSketch(Plane.XY.offset(5)):
        with Locations((-117.5, -22.3)):
            Rectangle(SKETCH32_W, SKETCH32_H)
    extrude(amount=-CUT_EXTRUDE23_DEPTH, mode=Mode.SUBTRACT)

    # Sketch33 → Cut-Extrude24 (cut)
    with BuildSketch(Plane.XY.offset(5)):
        with Locations((117.5, -22.3)):
            Rectangle(SKETCH33_W, SKETCH33_H)
    extrude(amount=-CUT_EXTRUDE24_DEPTH, mode=Mode.SUBTRACT)

    # Sketch34 → Boss-Extrude10 (add)
    with BuildSketch(Plane.ZY.offset(-93)):
        with Locations((2.5, -77.4)):
            Rectangle(SKETCH34_W, SKETCH34_H)
    extrude(amount=BOSS_EXTRUDE10_DEPTH)

    # Sketch35 → Boss-Extrude11 (add)
    with BuildSketch(Plane(origin=(-93, 0, 0), x_dir=(0, 0, -1), z_dir=(1, 0, 0))):
        with Locations((-2.5, -77.4)):
            Rectangle(SKETCH35_W, SKETCH35_H)
    extrude(amount=BOSS_EXTRUDE11_DEPTH)


solid = part.part
